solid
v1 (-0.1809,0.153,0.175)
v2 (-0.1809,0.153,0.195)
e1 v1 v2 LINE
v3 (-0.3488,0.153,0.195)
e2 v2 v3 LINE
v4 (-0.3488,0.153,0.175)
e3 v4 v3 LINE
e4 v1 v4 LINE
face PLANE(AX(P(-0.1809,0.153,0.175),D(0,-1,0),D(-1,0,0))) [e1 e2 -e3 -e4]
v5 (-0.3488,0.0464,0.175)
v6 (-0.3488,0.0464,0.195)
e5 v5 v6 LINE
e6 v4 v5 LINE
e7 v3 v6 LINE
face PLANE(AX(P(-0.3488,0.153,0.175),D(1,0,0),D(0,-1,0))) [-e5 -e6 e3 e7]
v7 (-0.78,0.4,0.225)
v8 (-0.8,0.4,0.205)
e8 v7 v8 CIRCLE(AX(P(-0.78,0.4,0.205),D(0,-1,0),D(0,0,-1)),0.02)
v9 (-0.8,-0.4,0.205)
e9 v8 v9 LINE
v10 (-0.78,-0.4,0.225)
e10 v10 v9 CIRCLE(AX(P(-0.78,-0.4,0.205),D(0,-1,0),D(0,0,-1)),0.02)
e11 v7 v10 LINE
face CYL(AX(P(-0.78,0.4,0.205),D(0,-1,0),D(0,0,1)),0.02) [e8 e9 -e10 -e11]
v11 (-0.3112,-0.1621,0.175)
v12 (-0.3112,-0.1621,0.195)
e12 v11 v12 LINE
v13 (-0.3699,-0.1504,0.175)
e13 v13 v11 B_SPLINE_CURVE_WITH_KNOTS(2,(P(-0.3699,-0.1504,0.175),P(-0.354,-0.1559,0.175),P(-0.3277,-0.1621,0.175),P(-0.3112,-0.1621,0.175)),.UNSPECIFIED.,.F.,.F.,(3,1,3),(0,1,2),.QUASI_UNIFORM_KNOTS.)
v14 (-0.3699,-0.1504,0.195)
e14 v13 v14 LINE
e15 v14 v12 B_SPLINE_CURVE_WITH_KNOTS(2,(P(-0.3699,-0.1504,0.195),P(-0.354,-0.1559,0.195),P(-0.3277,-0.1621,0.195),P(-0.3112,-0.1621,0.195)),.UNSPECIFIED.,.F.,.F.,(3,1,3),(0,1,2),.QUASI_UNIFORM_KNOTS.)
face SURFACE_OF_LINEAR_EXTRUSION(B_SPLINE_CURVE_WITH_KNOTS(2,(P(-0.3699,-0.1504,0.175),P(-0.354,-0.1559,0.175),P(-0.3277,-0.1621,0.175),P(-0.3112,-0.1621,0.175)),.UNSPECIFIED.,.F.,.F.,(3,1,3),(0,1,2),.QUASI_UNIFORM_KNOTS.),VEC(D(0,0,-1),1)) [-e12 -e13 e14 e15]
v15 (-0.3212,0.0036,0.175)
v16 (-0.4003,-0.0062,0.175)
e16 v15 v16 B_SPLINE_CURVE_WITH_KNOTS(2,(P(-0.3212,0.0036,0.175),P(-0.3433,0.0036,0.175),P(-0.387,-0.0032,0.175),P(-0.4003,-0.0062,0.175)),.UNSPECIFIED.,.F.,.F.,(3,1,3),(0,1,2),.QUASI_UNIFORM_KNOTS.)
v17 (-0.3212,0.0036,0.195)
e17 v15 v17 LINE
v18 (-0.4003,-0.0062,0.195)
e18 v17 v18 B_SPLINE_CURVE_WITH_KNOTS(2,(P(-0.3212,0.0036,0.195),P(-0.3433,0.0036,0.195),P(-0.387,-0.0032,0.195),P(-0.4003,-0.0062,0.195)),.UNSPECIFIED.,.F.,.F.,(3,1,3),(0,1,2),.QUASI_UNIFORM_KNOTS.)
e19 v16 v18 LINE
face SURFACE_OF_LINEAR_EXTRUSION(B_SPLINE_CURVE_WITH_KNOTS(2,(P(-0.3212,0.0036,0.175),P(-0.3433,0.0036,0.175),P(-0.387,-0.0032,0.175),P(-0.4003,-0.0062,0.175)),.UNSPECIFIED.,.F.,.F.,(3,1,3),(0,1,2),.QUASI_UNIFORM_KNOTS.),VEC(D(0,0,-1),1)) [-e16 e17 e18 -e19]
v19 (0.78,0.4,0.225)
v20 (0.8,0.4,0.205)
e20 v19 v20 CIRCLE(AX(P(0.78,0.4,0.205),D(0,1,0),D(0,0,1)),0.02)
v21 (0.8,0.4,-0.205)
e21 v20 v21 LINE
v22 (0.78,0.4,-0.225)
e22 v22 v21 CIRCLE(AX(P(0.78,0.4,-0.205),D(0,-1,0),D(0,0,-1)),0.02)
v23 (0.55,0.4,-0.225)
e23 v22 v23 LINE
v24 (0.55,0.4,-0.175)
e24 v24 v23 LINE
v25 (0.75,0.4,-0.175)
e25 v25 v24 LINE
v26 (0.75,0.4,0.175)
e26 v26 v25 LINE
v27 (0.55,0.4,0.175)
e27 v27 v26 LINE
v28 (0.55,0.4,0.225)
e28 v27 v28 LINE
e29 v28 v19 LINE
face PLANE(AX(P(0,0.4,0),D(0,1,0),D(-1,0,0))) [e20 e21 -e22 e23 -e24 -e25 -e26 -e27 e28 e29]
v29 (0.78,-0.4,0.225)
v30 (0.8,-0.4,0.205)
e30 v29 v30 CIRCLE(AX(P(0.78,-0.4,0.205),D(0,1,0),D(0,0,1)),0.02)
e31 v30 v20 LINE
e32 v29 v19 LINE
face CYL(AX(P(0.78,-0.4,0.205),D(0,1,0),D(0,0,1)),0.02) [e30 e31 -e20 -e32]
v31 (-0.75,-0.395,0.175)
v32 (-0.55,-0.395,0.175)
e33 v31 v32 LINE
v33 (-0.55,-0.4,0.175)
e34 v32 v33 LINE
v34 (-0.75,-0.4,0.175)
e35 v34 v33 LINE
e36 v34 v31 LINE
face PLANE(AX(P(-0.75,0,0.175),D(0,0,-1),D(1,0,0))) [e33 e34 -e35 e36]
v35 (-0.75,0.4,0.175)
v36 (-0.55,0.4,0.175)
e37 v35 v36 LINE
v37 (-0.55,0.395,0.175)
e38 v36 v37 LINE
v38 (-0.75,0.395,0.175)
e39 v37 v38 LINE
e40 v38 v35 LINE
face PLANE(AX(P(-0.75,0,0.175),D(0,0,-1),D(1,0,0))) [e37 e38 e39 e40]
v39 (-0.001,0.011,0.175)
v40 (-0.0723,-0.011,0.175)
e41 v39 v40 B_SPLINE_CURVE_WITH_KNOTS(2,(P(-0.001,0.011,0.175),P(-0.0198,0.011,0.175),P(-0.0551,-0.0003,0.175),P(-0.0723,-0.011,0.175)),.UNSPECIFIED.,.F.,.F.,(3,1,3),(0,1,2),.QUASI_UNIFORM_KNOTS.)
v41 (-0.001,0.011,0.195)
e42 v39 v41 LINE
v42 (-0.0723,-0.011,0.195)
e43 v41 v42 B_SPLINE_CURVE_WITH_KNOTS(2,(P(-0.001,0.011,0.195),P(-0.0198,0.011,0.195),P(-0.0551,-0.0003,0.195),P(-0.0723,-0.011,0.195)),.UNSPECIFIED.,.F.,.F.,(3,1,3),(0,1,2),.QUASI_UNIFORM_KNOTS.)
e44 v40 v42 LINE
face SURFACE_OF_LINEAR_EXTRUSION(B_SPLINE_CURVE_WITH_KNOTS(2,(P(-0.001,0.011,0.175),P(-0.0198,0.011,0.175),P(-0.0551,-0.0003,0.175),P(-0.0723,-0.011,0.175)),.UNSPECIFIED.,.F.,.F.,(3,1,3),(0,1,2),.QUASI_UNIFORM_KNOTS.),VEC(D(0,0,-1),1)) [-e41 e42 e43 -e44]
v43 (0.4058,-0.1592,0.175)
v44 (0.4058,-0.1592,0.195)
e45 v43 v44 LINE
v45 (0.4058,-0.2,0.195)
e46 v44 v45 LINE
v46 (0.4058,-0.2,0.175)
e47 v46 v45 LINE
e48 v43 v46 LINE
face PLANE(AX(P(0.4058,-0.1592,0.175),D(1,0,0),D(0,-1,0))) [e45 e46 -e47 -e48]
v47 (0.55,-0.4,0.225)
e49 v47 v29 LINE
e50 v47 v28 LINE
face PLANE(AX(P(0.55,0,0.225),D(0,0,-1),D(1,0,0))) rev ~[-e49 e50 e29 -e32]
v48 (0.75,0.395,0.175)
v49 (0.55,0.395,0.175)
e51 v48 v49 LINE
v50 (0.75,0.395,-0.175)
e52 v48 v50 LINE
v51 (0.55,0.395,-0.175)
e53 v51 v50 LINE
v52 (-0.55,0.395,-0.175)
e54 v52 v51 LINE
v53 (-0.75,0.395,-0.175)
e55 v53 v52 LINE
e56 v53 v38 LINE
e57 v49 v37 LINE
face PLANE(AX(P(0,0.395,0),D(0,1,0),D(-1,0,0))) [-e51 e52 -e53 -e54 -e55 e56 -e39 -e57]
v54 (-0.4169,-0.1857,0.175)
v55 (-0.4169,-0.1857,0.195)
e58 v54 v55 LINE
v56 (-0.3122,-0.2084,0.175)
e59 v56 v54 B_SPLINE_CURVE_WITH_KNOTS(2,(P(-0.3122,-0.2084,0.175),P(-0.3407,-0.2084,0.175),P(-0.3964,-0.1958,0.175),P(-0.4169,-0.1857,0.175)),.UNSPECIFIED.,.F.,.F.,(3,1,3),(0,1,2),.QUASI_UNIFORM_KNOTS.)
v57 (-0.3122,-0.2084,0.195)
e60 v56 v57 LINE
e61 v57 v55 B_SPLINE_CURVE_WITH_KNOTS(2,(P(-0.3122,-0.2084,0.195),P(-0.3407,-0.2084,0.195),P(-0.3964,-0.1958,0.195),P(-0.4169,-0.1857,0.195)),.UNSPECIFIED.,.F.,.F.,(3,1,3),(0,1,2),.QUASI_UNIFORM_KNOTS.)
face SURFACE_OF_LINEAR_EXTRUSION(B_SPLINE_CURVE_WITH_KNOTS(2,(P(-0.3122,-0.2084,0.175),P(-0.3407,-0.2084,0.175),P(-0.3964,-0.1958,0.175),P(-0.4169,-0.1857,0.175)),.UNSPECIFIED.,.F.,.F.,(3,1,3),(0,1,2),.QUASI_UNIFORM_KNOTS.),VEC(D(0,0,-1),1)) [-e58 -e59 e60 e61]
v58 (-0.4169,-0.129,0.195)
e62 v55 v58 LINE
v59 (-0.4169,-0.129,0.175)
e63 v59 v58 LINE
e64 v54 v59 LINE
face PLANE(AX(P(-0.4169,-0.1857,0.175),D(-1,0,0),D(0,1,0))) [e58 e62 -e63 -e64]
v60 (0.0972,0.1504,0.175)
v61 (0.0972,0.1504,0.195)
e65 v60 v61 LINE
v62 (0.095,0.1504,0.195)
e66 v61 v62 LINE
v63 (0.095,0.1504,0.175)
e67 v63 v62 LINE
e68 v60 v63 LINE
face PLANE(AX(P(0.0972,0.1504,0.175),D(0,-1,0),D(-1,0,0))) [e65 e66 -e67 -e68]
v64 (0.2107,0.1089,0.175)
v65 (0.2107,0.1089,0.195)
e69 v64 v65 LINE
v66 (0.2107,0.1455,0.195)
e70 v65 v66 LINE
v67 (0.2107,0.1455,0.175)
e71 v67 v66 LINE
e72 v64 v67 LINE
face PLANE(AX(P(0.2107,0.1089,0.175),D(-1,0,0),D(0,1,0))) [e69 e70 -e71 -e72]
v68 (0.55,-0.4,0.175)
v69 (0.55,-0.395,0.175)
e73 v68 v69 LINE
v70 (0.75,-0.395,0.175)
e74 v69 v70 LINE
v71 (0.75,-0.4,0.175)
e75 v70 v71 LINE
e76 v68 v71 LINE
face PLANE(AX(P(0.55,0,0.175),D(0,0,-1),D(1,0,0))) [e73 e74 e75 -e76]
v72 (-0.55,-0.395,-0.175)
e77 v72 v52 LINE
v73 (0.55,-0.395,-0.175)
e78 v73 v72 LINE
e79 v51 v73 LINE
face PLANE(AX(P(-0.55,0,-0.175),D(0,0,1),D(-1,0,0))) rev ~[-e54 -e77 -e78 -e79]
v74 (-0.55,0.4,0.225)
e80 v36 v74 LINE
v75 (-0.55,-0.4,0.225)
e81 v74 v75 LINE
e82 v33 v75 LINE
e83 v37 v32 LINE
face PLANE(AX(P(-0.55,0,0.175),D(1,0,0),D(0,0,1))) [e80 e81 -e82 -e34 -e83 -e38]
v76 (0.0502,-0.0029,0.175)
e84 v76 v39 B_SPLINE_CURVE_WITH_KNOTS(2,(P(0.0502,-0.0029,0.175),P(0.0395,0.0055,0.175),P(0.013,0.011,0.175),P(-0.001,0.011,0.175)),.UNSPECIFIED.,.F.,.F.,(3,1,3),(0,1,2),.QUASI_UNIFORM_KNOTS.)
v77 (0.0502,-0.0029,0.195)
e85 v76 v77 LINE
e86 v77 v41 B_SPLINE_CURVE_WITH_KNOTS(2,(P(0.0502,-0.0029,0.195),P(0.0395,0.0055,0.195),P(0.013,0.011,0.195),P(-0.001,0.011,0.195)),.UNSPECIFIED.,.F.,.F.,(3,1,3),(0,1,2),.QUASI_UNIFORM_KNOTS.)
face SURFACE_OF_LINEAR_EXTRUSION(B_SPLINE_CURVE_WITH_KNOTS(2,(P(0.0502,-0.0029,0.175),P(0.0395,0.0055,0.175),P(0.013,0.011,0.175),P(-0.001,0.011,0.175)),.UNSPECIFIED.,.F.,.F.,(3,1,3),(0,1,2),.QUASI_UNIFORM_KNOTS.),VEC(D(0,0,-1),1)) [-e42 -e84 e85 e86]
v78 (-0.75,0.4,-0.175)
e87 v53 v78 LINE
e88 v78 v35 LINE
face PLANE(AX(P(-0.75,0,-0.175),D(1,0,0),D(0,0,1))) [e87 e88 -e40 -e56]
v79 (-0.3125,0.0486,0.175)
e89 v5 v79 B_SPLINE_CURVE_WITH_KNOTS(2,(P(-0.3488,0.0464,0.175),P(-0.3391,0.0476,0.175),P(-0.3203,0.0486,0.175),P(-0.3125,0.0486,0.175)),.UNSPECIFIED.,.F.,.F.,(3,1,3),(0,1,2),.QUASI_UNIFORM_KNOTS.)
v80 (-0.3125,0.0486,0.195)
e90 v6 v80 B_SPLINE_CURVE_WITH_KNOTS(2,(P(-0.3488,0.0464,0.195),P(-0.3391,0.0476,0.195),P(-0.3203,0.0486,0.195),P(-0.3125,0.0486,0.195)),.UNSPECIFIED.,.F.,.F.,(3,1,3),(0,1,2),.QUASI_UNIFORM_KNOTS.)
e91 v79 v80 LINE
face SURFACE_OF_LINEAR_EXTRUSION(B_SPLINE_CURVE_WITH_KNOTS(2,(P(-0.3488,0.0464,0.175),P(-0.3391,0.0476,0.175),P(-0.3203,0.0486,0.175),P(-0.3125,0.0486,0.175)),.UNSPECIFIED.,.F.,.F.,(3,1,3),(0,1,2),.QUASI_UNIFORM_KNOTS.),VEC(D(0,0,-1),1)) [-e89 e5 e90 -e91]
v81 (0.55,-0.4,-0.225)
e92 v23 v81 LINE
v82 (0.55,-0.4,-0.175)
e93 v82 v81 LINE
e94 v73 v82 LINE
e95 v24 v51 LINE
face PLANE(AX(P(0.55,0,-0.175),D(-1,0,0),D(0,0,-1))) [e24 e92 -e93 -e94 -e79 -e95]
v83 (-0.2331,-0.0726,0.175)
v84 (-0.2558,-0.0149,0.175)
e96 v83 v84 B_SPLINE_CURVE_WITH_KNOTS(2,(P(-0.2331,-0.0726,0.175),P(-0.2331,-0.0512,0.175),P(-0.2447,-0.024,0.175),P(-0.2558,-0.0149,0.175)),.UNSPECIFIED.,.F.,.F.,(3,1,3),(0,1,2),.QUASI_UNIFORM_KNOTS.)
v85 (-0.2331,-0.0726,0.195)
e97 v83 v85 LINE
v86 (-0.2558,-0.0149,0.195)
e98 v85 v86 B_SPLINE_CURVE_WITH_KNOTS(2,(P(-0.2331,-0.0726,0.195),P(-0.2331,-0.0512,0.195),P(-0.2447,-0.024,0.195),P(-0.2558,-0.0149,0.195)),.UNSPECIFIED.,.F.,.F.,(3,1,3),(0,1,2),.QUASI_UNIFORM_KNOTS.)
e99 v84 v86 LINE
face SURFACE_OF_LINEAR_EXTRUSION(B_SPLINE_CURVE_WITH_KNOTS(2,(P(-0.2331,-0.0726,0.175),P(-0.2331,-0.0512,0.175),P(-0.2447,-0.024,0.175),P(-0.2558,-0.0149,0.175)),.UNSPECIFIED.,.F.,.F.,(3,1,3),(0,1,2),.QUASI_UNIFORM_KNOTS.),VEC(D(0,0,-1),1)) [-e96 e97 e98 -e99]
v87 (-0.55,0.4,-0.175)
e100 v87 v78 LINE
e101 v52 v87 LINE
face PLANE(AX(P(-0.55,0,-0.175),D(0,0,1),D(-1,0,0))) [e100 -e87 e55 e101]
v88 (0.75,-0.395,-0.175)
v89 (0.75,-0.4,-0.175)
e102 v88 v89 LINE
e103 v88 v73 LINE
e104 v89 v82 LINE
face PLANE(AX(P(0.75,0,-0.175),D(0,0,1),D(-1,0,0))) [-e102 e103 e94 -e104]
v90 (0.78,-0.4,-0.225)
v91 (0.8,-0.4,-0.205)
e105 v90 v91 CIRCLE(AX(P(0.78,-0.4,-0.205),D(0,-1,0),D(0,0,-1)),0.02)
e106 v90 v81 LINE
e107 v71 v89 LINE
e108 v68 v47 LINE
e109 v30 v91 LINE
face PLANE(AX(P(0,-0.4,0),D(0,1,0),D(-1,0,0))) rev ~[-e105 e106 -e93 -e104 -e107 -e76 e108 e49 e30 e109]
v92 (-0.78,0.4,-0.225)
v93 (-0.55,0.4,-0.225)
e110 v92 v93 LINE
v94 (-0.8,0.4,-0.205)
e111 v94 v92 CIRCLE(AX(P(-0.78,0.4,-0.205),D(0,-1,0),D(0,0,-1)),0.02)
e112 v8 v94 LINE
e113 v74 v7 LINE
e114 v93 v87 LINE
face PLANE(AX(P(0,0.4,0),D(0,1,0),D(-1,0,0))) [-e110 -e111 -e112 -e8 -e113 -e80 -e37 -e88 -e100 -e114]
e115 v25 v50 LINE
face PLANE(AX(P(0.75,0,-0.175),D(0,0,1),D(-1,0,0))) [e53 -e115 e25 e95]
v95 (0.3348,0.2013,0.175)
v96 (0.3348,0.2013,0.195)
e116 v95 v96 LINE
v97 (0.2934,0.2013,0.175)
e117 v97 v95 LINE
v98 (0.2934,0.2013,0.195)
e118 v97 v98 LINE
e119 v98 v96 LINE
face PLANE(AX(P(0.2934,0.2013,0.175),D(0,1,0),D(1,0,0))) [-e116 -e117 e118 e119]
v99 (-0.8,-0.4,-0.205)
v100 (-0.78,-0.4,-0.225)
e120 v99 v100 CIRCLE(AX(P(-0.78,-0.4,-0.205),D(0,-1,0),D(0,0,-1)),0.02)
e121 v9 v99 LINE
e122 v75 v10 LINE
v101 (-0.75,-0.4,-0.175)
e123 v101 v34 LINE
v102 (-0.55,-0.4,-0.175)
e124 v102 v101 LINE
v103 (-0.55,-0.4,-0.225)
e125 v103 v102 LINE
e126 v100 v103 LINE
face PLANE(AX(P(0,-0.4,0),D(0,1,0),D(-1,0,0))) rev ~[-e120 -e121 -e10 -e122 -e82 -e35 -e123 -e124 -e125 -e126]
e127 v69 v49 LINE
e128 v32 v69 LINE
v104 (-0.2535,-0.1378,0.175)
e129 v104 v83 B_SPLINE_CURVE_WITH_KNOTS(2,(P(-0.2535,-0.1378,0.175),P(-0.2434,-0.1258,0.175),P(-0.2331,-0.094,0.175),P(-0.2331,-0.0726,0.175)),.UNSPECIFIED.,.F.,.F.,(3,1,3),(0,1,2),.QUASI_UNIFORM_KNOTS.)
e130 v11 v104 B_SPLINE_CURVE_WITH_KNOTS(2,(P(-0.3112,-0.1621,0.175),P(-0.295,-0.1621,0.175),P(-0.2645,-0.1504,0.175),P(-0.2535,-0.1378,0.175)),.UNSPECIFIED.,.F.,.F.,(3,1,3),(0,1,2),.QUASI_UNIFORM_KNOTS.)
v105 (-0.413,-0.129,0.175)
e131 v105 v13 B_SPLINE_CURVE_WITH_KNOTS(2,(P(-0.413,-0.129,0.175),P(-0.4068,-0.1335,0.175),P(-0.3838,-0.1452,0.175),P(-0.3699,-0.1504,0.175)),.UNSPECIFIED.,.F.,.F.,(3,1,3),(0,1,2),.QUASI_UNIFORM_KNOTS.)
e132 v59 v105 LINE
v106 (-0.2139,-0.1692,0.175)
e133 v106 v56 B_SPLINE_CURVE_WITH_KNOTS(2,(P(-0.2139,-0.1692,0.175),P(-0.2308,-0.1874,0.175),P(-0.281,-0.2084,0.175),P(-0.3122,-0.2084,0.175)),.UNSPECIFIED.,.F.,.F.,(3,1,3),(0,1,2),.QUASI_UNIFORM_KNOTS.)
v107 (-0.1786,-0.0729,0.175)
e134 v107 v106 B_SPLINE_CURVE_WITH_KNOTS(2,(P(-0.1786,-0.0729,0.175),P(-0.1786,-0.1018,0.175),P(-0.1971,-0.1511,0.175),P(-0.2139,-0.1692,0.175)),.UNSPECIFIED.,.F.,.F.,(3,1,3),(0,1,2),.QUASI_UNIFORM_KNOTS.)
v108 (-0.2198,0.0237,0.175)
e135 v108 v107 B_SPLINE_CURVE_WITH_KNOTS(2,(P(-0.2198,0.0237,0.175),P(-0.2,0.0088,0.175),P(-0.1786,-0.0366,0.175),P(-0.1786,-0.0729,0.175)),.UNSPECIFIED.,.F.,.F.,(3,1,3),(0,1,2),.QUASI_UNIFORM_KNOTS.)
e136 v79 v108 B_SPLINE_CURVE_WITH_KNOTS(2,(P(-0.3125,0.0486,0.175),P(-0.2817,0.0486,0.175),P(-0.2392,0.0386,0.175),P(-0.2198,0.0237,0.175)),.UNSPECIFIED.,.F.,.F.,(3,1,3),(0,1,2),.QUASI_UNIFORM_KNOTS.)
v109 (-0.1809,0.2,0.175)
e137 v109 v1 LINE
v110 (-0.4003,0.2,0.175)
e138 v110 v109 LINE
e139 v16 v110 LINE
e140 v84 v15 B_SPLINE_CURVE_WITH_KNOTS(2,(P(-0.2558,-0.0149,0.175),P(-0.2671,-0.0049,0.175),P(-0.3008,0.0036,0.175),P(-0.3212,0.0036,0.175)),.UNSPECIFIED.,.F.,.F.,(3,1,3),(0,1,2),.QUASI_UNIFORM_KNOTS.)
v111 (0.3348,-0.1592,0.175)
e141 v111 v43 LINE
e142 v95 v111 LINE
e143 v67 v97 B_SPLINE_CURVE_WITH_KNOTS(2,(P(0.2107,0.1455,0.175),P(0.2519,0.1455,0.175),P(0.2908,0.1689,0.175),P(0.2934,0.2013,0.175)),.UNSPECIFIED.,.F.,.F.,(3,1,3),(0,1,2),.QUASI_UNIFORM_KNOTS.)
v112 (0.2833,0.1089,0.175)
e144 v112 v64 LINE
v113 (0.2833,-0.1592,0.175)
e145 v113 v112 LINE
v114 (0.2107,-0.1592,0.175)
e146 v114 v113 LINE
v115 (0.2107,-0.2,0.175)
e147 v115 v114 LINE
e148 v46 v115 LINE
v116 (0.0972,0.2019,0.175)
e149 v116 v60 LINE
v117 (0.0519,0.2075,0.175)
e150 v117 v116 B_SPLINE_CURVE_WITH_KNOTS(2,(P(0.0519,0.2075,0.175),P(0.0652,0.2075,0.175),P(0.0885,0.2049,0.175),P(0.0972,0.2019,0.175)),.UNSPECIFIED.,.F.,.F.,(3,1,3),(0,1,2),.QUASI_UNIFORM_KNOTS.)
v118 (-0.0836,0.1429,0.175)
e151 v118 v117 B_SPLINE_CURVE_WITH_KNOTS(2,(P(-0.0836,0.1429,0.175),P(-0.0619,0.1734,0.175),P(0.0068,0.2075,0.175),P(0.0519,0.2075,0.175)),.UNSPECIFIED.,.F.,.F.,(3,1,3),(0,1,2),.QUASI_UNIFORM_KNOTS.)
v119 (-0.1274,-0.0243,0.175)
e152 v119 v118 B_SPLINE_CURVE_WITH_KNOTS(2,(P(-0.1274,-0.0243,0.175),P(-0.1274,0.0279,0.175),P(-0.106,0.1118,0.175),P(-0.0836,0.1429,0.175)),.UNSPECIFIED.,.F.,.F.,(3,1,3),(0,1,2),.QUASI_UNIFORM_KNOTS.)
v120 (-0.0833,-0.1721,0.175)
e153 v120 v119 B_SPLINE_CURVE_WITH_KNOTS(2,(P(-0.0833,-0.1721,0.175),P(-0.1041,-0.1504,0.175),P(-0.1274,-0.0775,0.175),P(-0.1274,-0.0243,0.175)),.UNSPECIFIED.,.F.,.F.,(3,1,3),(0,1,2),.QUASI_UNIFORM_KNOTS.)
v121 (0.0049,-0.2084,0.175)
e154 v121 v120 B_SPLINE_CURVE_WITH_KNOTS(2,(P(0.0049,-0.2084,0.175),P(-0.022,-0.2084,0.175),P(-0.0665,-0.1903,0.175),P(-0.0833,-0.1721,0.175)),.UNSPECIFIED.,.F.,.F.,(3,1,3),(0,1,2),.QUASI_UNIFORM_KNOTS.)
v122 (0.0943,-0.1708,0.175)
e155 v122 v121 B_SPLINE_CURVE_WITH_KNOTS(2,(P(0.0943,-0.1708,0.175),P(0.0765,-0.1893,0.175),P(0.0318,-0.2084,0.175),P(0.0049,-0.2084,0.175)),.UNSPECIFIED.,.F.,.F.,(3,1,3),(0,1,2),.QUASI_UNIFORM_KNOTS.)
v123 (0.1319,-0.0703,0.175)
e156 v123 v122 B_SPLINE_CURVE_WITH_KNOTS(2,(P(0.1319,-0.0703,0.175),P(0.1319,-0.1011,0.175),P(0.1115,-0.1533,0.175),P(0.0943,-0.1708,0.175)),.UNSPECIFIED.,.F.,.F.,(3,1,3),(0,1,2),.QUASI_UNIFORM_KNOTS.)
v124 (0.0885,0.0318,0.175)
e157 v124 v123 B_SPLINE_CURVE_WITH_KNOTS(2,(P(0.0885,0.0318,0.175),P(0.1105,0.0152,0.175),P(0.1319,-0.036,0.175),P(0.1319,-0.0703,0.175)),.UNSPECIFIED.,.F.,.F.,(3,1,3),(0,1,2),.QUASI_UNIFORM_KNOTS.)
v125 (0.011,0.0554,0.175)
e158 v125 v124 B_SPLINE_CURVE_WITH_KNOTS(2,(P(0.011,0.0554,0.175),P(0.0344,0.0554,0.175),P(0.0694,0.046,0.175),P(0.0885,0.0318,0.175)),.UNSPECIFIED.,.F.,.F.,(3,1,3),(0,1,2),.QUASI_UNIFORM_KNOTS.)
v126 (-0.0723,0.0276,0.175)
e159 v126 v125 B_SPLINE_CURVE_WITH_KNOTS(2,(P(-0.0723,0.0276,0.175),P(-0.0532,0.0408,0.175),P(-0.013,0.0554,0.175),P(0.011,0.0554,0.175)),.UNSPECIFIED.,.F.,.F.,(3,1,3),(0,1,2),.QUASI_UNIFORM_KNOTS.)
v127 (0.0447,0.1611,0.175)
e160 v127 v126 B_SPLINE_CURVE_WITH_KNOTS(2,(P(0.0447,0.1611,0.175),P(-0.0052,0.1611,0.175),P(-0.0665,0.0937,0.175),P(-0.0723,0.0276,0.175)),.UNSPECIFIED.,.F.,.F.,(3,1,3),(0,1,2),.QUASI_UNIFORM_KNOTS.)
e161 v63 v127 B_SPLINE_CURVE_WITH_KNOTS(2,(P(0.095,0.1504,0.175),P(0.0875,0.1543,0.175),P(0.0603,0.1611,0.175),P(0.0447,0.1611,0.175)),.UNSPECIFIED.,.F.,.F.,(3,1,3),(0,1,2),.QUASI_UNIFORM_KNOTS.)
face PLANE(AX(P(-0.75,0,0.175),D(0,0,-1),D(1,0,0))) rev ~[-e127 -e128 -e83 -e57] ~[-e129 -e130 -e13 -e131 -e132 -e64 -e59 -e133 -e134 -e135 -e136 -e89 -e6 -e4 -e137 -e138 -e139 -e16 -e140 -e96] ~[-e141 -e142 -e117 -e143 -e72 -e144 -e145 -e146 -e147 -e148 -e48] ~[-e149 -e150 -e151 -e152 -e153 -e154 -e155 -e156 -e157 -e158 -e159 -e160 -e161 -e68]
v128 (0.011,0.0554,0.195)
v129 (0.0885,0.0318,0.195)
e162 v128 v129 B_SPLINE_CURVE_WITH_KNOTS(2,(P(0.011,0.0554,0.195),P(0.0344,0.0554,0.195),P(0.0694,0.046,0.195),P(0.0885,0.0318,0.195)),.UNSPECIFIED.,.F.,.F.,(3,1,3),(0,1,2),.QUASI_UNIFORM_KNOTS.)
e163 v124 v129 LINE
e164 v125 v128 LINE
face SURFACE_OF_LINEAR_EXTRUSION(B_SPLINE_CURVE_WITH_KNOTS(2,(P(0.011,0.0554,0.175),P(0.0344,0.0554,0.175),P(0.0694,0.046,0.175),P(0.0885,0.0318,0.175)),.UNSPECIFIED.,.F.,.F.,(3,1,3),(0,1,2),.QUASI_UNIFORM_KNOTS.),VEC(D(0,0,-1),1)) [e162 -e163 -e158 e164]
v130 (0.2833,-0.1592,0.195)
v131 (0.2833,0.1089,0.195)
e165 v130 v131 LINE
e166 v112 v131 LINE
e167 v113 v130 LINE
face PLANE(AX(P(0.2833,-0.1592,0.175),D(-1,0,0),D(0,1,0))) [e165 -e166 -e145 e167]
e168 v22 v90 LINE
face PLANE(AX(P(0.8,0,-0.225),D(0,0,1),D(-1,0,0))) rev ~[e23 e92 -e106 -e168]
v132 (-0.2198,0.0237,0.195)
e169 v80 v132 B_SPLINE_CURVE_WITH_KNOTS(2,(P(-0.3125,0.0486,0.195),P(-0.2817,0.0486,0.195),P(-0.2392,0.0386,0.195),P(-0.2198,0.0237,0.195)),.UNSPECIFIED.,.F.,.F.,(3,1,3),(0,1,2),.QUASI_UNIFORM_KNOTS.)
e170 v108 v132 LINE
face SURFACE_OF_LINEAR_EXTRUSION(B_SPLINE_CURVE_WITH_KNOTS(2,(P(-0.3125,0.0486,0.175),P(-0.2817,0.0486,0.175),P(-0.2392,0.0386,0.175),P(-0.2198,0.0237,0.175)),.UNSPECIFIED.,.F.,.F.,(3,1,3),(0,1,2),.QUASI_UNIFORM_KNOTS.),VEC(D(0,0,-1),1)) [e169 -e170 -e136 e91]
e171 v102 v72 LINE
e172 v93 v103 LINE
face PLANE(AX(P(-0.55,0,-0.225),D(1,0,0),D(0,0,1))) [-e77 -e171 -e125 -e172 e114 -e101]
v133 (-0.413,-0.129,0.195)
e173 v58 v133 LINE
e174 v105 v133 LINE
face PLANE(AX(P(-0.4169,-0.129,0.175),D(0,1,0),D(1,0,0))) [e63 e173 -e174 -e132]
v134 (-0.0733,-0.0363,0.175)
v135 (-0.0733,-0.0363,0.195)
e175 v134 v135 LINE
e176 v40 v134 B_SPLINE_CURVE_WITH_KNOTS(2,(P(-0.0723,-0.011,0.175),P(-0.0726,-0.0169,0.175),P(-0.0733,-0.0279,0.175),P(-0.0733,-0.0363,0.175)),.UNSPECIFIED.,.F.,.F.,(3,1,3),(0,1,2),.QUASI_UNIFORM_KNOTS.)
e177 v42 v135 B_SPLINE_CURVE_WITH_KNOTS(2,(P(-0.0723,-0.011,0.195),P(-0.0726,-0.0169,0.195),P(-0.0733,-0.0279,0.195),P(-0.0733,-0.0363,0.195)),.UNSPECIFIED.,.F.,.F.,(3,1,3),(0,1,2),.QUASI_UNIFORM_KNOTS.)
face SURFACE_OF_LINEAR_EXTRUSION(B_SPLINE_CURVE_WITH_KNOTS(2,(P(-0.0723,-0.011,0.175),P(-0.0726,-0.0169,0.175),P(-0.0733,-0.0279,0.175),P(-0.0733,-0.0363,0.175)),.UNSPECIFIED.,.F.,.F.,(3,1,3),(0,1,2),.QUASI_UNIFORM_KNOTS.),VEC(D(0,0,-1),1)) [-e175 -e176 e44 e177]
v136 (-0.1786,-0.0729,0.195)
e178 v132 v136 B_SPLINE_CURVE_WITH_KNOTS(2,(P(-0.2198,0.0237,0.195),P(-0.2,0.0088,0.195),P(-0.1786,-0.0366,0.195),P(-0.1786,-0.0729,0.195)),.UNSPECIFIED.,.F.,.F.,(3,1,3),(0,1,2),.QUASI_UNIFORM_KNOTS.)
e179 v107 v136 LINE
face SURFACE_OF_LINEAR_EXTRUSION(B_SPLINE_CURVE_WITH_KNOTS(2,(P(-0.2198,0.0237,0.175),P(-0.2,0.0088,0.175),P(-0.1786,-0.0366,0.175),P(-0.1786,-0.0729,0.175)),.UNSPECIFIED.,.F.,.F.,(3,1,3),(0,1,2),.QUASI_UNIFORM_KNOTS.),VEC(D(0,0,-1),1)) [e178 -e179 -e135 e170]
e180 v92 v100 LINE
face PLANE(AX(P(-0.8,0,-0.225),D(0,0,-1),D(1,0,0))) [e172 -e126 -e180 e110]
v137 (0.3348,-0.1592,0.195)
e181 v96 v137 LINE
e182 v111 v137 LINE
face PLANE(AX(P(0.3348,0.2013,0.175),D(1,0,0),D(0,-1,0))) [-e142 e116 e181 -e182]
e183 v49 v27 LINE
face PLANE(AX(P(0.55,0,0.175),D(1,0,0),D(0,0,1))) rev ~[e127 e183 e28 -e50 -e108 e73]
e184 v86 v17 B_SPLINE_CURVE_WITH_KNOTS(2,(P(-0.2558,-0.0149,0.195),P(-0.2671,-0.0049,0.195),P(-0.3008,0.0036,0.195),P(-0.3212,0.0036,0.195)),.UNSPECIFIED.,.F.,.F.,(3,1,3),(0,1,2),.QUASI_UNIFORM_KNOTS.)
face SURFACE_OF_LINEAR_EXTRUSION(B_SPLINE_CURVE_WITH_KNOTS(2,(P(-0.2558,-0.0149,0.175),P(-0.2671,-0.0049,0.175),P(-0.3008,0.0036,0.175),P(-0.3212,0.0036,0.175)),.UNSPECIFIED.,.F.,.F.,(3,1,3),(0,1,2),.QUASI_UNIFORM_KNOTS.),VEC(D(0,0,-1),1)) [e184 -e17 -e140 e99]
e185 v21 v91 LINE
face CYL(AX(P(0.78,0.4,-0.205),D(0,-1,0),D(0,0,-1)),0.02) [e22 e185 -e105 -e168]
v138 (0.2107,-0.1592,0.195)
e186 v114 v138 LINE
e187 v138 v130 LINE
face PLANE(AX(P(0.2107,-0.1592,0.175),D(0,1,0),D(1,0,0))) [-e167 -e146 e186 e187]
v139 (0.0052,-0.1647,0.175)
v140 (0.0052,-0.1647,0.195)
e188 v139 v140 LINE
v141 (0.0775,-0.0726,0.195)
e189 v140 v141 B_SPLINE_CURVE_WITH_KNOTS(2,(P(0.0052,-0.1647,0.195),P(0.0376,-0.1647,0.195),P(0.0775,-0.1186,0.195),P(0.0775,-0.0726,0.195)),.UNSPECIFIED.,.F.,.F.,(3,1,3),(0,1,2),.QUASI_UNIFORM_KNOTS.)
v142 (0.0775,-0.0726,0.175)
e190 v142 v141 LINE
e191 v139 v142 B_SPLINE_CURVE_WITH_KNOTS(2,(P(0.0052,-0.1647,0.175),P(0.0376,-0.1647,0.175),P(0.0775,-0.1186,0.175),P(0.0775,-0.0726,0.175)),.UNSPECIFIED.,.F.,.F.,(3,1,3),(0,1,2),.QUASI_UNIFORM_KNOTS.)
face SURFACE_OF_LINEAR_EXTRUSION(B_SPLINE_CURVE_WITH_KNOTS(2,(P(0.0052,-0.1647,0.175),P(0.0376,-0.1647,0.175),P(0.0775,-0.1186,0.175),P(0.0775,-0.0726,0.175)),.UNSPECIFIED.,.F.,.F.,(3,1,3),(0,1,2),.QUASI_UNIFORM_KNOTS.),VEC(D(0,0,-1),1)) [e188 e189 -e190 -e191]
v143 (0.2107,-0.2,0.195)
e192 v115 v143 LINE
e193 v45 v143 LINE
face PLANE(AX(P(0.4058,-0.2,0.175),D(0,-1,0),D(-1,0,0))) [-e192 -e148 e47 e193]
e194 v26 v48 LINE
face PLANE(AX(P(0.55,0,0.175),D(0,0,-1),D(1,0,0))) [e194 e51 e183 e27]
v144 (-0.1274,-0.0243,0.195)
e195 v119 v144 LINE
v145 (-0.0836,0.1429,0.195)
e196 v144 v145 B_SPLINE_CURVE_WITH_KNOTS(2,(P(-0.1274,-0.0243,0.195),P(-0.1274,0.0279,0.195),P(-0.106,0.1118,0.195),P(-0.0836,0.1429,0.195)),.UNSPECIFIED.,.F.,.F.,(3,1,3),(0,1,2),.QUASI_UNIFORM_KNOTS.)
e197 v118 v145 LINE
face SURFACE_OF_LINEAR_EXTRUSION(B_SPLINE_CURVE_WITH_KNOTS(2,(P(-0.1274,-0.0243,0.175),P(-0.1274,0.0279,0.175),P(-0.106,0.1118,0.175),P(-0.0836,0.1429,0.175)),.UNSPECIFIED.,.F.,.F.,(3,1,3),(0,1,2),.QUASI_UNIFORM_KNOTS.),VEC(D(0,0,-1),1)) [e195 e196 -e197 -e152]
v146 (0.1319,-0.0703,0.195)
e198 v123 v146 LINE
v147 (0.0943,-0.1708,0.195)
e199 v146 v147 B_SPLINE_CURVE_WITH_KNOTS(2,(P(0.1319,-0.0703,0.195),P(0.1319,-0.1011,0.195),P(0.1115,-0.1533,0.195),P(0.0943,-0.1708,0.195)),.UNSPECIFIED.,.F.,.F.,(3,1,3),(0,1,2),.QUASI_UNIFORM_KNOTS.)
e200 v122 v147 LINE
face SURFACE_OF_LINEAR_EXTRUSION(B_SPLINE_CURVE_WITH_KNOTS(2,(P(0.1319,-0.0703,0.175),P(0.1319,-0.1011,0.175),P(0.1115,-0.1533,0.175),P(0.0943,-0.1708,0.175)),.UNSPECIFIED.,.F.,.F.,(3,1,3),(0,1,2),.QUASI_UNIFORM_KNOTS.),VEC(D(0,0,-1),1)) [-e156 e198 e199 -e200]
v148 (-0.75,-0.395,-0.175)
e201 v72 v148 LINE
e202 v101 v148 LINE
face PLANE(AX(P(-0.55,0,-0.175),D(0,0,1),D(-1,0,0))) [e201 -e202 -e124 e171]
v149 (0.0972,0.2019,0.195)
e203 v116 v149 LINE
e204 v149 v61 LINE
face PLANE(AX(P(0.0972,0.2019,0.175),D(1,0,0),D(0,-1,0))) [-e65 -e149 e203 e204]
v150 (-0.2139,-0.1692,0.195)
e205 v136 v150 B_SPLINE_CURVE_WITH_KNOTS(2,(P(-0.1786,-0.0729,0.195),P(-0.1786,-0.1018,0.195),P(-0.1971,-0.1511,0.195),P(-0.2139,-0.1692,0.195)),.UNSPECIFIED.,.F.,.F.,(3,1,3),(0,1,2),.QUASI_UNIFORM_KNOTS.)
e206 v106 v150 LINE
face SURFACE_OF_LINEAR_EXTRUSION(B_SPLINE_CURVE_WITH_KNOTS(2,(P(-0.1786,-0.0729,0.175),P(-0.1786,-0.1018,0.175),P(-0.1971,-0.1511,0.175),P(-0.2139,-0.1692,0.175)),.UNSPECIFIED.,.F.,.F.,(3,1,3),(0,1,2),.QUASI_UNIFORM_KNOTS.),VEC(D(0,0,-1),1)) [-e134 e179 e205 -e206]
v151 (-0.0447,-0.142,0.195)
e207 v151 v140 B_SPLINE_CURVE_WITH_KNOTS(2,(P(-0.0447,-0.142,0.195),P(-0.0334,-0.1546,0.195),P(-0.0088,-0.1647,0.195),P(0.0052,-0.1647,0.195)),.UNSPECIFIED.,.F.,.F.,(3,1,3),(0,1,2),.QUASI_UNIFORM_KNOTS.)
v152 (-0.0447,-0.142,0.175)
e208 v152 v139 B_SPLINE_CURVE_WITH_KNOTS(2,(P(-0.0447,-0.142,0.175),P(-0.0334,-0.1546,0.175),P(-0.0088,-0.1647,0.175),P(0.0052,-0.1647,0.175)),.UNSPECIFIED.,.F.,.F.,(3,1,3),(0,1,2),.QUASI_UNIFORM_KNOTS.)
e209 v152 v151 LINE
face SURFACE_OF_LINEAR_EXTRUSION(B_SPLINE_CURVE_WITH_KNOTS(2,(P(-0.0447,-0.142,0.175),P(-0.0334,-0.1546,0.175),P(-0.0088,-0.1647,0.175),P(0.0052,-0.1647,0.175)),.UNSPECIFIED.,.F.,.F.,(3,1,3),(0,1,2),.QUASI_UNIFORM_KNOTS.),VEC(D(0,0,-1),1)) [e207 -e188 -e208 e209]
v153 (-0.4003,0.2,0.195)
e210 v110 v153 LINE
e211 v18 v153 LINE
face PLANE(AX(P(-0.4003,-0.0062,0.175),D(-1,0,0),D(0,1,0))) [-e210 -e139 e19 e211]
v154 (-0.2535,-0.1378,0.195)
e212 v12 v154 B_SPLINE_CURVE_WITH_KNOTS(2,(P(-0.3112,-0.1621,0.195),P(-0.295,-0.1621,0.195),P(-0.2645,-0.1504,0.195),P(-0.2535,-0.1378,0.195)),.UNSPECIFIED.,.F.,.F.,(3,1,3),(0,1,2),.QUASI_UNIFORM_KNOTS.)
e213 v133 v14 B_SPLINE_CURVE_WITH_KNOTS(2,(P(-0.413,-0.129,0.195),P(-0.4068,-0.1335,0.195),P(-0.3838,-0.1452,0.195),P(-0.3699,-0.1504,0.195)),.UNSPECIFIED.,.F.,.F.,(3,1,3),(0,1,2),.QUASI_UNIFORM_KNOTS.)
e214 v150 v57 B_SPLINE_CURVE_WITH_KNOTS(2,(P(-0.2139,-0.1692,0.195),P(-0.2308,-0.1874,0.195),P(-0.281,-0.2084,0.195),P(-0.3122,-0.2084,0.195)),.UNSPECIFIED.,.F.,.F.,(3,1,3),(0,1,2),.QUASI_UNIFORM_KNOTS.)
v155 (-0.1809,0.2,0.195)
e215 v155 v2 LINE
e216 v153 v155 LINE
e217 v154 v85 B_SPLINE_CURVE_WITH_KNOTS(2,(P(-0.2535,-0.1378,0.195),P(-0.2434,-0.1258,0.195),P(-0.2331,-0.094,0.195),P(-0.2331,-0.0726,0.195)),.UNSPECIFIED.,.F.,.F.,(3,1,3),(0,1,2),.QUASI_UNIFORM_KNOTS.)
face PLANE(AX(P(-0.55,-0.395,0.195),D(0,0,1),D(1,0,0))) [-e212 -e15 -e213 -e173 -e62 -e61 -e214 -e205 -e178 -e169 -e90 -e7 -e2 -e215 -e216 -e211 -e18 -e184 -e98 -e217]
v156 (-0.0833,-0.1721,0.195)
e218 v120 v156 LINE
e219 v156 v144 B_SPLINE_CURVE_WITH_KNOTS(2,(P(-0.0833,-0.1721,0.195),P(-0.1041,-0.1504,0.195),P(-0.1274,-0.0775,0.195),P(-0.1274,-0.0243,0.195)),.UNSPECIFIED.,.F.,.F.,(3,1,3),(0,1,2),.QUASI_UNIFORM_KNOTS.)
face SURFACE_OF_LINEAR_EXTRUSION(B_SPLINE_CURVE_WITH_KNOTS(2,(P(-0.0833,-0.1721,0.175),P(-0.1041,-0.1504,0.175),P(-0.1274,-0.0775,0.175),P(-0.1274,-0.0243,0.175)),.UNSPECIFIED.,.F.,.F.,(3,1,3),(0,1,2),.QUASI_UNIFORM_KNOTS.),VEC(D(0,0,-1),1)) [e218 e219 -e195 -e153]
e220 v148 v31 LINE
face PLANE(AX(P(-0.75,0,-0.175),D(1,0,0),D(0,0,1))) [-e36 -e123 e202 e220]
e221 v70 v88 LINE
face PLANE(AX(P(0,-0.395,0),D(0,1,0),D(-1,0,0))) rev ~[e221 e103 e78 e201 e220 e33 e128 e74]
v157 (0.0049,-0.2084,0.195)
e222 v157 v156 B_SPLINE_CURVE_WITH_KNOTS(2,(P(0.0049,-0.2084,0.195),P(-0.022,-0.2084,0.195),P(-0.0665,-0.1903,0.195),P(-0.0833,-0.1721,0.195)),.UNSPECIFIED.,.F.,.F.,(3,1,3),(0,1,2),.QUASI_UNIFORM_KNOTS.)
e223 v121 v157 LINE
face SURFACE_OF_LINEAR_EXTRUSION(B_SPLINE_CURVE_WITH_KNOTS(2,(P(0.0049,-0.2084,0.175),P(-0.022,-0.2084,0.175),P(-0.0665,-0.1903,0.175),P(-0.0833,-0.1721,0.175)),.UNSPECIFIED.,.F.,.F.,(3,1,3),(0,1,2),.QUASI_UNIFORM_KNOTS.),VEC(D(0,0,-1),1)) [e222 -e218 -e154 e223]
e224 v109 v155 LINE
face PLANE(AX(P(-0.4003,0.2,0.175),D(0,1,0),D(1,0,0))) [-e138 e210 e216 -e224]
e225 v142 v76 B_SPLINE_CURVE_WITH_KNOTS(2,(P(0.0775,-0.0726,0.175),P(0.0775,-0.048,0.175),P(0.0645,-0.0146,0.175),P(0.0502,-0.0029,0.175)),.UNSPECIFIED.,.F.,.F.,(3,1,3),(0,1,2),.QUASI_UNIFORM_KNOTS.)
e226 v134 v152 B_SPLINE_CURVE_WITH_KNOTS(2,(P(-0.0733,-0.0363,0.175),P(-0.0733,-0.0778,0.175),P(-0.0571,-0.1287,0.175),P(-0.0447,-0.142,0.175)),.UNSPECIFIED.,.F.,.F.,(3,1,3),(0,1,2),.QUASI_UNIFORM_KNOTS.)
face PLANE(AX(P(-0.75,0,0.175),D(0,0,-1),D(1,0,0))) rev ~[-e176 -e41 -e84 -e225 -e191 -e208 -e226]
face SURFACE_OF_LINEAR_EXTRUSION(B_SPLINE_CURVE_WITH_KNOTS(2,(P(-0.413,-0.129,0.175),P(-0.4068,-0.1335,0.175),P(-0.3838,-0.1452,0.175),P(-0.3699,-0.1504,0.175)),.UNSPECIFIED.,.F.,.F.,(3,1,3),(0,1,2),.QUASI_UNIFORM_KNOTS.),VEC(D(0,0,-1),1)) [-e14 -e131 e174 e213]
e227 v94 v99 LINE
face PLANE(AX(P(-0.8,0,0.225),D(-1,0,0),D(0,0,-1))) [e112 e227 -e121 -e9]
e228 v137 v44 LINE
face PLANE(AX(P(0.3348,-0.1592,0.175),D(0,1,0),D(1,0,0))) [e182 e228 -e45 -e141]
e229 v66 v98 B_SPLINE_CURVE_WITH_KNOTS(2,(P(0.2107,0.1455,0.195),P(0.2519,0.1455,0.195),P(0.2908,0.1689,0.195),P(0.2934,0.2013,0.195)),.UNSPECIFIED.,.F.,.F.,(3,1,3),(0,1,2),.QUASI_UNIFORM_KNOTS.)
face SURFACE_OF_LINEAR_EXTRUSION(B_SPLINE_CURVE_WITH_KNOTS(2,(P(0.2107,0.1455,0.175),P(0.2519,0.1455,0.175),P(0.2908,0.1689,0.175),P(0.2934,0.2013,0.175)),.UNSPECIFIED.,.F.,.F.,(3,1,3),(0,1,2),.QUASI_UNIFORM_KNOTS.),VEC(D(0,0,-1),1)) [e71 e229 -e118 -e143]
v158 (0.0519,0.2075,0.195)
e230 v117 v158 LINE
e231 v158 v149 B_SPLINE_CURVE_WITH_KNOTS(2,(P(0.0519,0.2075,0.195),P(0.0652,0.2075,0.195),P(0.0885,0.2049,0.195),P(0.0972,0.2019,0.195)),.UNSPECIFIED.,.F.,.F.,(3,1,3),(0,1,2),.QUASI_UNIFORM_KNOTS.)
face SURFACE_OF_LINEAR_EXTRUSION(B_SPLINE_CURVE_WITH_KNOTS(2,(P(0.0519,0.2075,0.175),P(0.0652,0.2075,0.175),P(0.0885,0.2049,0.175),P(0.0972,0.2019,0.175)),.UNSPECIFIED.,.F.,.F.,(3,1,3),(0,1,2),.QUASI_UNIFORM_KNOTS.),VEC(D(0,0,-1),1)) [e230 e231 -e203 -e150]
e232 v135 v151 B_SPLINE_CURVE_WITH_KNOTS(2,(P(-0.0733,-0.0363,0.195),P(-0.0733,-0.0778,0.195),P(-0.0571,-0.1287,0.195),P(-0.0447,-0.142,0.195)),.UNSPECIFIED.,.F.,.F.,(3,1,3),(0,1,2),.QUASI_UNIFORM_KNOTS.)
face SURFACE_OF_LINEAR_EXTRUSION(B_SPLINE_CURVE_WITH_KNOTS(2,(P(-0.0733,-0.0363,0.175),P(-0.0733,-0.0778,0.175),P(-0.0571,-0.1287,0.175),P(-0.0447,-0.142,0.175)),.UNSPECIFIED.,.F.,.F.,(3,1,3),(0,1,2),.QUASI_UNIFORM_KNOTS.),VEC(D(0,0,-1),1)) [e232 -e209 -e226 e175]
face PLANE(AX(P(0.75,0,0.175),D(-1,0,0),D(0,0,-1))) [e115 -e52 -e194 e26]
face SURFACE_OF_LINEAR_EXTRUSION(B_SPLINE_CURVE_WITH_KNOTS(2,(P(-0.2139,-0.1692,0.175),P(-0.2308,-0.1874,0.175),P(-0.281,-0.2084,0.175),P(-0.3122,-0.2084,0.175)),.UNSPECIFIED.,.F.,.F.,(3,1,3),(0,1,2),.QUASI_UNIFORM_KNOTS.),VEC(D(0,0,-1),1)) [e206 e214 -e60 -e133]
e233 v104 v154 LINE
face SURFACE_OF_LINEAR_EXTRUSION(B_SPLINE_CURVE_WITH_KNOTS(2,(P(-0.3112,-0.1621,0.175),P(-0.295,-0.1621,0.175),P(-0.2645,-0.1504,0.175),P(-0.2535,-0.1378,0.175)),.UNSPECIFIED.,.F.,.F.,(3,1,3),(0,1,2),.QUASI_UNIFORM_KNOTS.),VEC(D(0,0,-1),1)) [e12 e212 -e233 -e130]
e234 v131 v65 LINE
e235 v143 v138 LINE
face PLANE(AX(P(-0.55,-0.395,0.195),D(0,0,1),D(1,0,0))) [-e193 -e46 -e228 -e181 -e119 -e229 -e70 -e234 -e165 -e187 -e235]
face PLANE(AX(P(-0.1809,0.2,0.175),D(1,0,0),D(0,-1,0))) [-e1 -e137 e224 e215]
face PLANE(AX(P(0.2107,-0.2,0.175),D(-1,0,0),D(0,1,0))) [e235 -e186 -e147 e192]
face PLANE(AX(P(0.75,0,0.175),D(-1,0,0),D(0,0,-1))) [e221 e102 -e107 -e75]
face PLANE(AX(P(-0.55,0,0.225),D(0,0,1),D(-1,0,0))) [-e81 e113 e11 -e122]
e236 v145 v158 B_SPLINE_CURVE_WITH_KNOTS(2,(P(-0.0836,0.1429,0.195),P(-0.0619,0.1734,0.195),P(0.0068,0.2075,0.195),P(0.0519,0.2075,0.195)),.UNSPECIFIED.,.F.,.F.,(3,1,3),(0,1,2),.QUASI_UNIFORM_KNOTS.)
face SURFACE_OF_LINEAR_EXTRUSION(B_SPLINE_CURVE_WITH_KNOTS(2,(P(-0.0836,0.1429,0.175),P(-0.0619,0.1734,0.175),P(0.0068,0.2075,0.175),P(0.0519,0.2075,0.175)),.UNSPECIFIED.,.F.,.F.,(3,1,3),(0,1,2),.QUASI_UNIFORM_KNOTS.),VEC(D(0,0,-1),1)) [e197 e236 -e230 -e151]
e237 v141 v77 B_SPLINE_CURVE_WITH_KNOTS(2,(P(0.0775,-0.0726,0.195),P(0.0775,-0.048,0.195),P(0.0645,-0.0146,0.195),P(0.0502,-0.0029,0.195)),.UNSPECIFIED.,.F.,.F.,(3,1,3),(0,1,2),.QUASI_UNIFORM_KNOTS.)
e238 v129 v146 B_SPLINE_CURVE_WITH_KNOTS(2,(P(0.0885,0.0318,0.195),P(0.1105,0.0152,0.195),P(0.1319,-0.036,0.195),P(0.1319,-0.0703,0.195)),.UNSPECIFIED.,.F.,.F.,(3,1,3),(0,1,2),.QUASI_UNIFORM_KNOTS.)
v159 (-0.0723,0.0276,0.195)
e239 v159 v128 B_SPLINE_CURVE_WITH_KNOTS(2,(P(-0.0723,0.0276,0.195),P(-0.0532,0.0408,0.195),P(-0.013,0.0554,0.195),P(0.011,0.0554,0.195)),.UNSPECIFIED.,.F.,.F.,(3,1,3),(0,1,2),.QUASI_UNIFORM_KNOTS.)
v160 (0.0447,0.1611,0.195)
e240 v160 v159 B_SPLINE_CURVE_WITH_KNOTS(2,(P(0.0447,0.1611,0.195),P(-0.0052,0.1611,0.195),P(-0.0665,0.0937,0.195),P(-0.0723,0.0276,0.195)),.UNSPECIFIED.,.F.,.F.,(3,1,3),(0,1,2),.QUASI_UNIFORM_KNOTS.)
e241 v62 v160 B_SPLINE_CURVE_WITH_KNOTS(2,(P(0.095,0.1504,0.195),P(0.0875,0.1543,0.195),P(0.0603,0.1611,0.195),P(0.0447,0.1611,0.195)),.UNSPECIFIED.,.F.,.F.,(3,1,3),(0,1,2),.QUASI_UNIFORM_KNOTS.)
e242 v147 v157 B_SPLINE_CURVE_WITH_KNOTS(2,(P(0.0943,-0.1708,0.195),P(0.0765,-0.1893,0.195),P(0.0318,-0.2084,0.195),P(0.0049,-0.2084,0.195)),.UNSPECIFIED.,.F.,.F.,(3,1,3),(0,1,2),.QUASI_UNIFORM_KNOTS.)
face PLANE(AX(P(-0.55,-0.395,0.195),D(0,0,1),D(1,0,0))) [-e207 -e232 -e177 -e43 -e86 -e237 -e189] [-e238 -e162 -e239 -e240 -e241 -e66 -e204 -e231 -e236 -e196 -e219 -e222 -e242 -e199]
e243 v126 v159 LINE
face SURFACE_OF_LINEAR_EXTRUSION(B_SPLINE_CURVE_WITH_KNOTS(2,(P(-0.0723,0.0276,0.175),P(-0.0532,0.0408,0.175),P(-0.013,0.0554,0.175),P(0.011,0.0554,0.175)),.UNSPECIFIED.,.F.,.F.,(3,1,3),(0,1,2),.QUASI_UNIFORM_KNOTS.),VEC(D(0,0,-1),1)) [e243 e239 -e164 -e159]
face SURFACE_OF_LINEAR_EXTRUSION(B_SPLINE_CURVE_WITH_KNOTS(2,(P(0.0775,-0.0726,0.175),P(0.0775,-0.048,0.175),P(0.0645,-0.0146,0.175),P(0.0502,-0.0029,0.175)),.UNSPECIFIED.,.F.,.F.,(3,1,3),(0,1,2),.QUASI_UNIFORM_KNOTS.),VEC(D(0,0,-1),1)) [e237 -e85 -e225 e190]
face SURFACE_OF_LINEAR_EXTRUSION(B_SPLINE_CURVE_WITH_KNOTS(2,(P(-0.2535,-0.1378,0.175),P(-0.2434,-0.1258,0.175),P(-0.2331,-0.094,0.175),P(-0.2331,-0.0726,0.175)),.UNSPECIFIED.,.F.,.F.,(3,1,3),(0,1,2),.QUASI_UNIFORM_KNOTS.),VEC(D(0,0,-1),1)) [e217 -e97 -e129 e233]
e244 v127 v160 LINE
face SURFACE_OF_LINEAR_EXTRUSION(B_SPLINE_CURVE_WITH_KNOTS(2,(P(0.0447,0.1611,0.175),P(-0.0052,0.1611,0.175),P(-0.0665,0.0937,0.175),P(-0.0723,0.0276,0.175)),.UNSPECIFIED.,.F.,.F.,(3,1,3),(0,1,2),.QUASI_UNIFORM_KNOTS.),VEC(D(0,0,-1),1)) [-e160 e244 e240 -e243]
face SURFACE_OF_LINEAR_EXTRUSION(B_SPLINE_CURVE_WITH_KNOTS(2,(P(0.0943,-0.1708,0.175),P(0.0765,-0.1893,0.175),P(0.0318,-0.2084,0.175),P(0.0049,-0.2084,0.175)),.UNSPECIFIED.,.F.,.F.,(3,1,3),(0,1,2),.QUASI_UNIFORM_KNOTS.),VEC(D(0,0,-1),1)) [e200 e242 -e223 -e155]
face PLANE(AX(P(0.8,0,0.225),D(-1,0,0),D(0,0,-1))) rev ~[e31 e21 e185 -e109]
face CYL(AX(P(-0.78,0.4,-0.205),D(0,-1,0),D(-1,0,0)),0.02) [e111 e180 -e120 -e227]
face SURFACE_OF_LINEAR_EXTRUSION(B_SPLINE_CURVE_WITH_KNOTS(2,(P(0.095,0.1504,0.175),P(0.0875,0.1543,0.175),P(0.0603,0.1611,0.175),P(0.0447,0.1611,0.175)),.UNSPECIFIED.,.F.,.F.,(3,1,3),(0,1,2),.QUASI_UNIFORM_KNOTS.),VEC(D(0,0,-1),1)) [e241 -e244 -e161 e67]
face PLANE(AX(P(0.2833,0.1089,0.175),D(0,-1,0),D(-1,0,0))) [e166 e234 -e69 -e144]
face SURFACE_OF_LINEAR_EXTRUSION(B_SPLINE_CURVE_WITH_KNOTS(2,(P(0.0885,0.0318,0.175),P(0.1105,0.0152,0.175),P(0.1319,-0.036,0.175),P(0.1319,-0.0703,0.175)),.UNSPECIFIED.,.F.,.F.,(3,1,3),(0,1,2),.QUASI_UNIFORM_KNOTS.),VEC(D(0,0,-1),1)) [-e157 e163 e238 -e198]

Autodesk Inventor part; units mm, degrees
ref_plane "YZ Plane" through (0, 0, 0) normal (1, 0, 0) x (0, 1, 0)
ref_plane "XZ Plane" through (0, 0, 0) normal (0, 1, 0) x (-1, 0, 0)
ref_plane "XY Plane" through (0, 0, 0) normal (0, 0, 1) x (1, 0, 0)
sketch "Sketch1" plane through (0, 0, 0) normal (0, 1, 0) x (-1, 0, 0)
  line L0 (0.75, 0.175) -> (-0.75, 0.175)
  line L1 (-0.75, 0.175) -> (-0.75, -0.175)
  line L2 (-0.75, -0.175) -> (0.75, -0.175)
  line L3 (0.75, -0.175) -> (0.75, 0.175)
  line L4 (0.55, 0.175) -> (0.55, 0.225)
  line L5 (0.55, 0.225) -> (0.8, 0.225)
  line L6 (0.8, 0.225) -> (0.8, -0.225)
  line L7 (0.8, -0.225) -> (0.55, -0.225)
  line L8 (0.55, -0.225) -> (0.55, -0.175)
  line L9 (-0.55, 0.175) -> (-0.55, 0.225)
  line L10 (-0.55, 0.225) -> (-0.8, 0.225)
  line L11 (-0.8, 0.225) -> (-0.8, -0.225)
  line L12 (-0.8, -0.225) -> (-0.55, -0.225)
  line L13 (-0.55, -0.175) -> (-0.55, -0.225)
  line L14 (0.55, 0.175) -> (-0.55, 0.175)
  point P0 (0, 0)
  point P1 (0, 0.175)
  point P2 (0.75, 0)
  dimension "d0" = 1.6
  dimension "d1" = 0.05
  dimension "d2" = 0.05
  dimension "d3" = 0.45
  dimension "d4" = 0.25
extrude "Extrusion1" add sketch "Sketch1" along normal mid plane 0.8 contours L0 L4 L5 L6 L7 L8 L2 L3 | L0 L1 L2 L13 L12 L11 L10 L9
extrude "Extrusion2" add sketch "Sketch1" along normal mid plane 0.79 contours L3 L2 L1 L0
sketch "Sketch2" plane through (-0.55, -0.395, 0.175) normal (0, 0, 1) x (1, 0, 0)
  line L0 (0, 0) -> (0, 0.79) projected
  line L1 (1.1, 0) -> (0, 0) projected
  line L2 (1.1, 0) -> (1.1, 0.79) projected
  line L3 (0, 0.79) -> (1.1, 0.79) projected
  line L4 (0, 0.395) -> (1.1, 0.395) construction
  spline S0 degree 2 poles (0.3714, 0.3221) (0.3714, 0.2932) (0.3529, 0.2439) (0.3361, 0.2258) knots 0 0 0 1 2 2 2
  spline S1 degree 2 poles (0.3361, 0.2258) (0.3192, 0.2076) (0.269, 0.1866) (0.2378, 0.1866) knots 0 0 0 1 2 2 2
  spline S2 degree 2 poles (0.2378, 0.1866) (0.2093, 0.1866) (0.1536, 0.1992) (0.1331, 0.2093) knots 0 0 0 1 2 2 2
  line L5 (0.1331, 0.2093) -> (0.1331, 0.266)
  line L6 (0.1331, 0.266) -> (0.137, 0.266)
  spline S3 degree 2 poles (0.137, 0.266) (0.1432, 0.2615) (0.1662, 0.2498) (0.1801, 0.2446) knots 0 0 0 1 2 2 2
  spline S4 degree 2 poles (0.1801, 0.2446) (0.196, 0.2391) (0.2223, 0.2329) (0.2388, 0.2329) knots 0 0 0 1 2 2 2
  spline S5 degree 2 poles (0.2388, 0.2329) (0.255, 0.2329) (0.2855, 0.2446) (0.2965, 0.2572) knots 0 0 0 1 2 2 2
  spline S6 degree 2 poles (0.2965, 0.2572) (0.3066, 0.2692) (0.3169, 0.301) (0.3169, 0.3224) knots 0 0 0 1 2 2 2
  spline S7 degree 2 poles (0.3169, 0.3224) (0.3169, 0.3438) (0.3053, 0.371) (0.2942, 0.3801) knots 0 0 0 1 2 2 2
  spline S8 degree 2 poles (0.2942, 0.3801) (0.2829, 0.3901) (0.2492, 0.3986) (0.2288, 0.3986) knots 0 0 0 1 2 2 2
  spline S9 degree 2 poles (0.2288, 0.3986) (0.2067, 0.3986) (0.163, 0.3918) (0.1497, 0.3888) knots 0 0 0 1 2 2 2
  line L7 (0.1497, 0.3888) -> (0.1497, 0.595)
  line L8 (0.1497, 0.595) -> (0.3691, 0.595)
  line L9 (0.3691, 0.595) -> (0.3691, 0.548)
  line L10 (0.3691, 0.548) -> (0.2012, 0.548)
  line L11 (0.2012, 0.548) -> (0.2012, 0.4414)
  spline S10 degree 2 poles (0.2012, 0.4414) (0.2109, 0.4426) (0.2297, 0.4436) (0.2375, 0.4436) knots 0 0 0 1 2 2 2
  spline S11 degree 2 poles (0.2375, 0.4436) (0.2683, 0.4436) (0.3108, 0.4336) (0.3302, 0.4187) knots 0 0 0 1 2 2 2
  spline S12 degree 2 poles (0.3302, 0.4187) (0.35, 0.4038) (0.3714, 0.3584) (0.3714, 0.3221) knots 0 0 0 1 2 2 2
  spline S13 degree 2 poles (0.6819, 0.3247) (0.6819, 0.2939) (0.6615, 0.2417) (0.6443, 0.2242) knots 0 0 0 1 2 2 2
  spline S14 degree 2 poles (0.6443, 0.2242) (0.6265, 0.2057) (0.5818, 0.1866) (0.5549, 0.1866) knots 0 0 0 1 2 2 2
  spline S15 degree 2 poles (0.5549, 0.1866) (0.528, 0.1866) (0.4835, 0.2047) (0.4667, 0.2229) knots 0 0 0 1 2 2 2
  spline S16 degree 2 poles (0.4667, 0.2229) (0.4459, 0.2446) (0.4226, 0.3175) (0.4226, 0.3707) knots 0 0 0 1 2 2 2
  spline S17 degree 2 poles (0.4226, 0.3707) (0.4226, 0.4229) (0.444, 0.5068) (0.4664, 0.5379) knots 0 0 0 1 2 2 2
  spline S18 degree 2 poles (0.4664, 0.5379) (0.4881, 0.5684) (0.5568, 0.6025) (0.6019, 0.6025) knots 0 0 0 1 2 2 2
  spline S19 degree 2 poles (0.6019, 0.6025) (0.6152, 0.6025) (0.6385, 0.5999) (0.6472, 0.5969) knots 0 0 0 1 2 2 2
  line L12 (0.6472, 0.5969) -> (0.6472, 0.5454)
  line L13 (0.6472, 0.5454) -> (0.645, 0.5454)
  spline S20 degree 2 poles (0.645, 0.5454) (0.6375, 0.5493) (0.6103, 0.5561) (0.5947, 0.5561) knots 0 0 0 1 2 2 2
  spline S21 degree 2 poles (0.5947, 0.5561) (0.5448, 0.5561) (0.4835, 0.4887) (0.4777, 0.4226) knots 0 0 0 1 2 2 2
  spline S22 degree 2 poles (0.4777, 0.4226) (0.4968, 0.4358) (0.537, 0.4504) (0.561, 0.4504) knots 0 0 0 1 2 2 2
  spline S23 degree 2 poles (0.561, 0.4504) (0.5844, 0.4504) (0.6194, 0.441) (0.6385, 0.4268) knots 0 0 0 1 2 2 2
  spline S24 degree 2 poles (0.6385, 0.4268) (0.6605, 0.4102) (0.6819, 0.359) (0.6819, 0.3247) knots 0 0 0 1 2 2 2
  spline S25 degree 2 poles (0.6275, 0.3224) (0.6275, 0.347) (0.6145, 0.3804) (0.6002, 0.3921) knots 0 0 0 1 2 2 2
  spline S26 degree 2 poles (0.6002, 0.3921) (0.5895, 0.4005) (0.563, 0.406) (0.549, 0.406) knots 0 0 0 1 2 2 2
  spline S27 degree 2 poles (0.549, 0.406) (0.5302, 0.406) (0.4949, 0.3947) (0.4777, 0.384) knots 0 0 0 1 2 2 2
  spline S28 degree 2 poles (0.4777, 0.384) (0.4774, 0.3781) (0.4767, 0.3671) (0.4767, 0.3587) knots 0 0 0 1 2 2 2
  spline S29 degree 2 poles (0.4767, 0.3587) (0.4767, 0.3172) (0.4929, 0.2663) (0.5053, 0.253) knots 0 0 0 1 2 2 2
  spline S30 degree 2 poles (0.5053, 0.253) (0.5166, 0.2404) (0.5412, 0.2303) (0.5552, 0.2303) knots 0 0 0 1 2 2 2
  spline S31 degree 2 poles (0.5552, 0.2303) (0.5876, 0.2303) (0.6275, 0.2764) (0.6275, 0.3224) knots 0 0 0 1 2 2 2
  line L14 (0.9558, 0.195) -> (0.7607, 0.195)
  line L15 (0.7607, 0.195) -> (0.7607, 0.2358)
  line L16 (0.7607, 0.2358) -> (0.8333, 0.2358)
  line L17 (0.8333, 0.2358) -> (0.8333, 0.5039)
  line L18 (0.8333, 0.5039) -> (0.7607, 0.5039)
  line L19 (0.7607, 0.5039) -> (0.7607, 0.5405)
  spline S32 degree 2 poles (0.7607, 0.5405) (0.8019, 0.5405) (0.8408, 0.5639) (0.8434, 0.5963) knots 0 0 0 1 2 2 2
  line L20 (0.8434, 0.5963) -> (0.8848, 0.5963)
  line L21 (0.8848, 0.5963) -> (0.8848, 0.2358)
  line L22 (0.8848, 0.2358) -> (0.9558, 0.2358)
  line L23 (0.9558, 0.2358) -> (0.9558, 0.195)
  point P0 (0.55, 0.395)
extrude "Extrusion3" add sketch "Sketch2" along normal blind 0.02 contours S0 S1 S2 L5 L6 S3 S4 S5 S6 S7 S8 S9 L7 L8 L9 L10 L11 S10 S11 S12 | S13 S14 S15 S16 S17 S18 S19 L12 L13 S20 S21 S22 S23 S24 | L14 L15 L16 L17 L18 L19 S32 L20 L21 L22 L23
fillet "Fillet1" radius 0.02 4 edges at (-0.8, 0, 0.225) (-0.8, 0, -0.225) (0.8, 0, 0.225) (0.8, 0, -0.225)
equation "\"d2\" = d1"
properties part number "21-1001" material "Copper"
